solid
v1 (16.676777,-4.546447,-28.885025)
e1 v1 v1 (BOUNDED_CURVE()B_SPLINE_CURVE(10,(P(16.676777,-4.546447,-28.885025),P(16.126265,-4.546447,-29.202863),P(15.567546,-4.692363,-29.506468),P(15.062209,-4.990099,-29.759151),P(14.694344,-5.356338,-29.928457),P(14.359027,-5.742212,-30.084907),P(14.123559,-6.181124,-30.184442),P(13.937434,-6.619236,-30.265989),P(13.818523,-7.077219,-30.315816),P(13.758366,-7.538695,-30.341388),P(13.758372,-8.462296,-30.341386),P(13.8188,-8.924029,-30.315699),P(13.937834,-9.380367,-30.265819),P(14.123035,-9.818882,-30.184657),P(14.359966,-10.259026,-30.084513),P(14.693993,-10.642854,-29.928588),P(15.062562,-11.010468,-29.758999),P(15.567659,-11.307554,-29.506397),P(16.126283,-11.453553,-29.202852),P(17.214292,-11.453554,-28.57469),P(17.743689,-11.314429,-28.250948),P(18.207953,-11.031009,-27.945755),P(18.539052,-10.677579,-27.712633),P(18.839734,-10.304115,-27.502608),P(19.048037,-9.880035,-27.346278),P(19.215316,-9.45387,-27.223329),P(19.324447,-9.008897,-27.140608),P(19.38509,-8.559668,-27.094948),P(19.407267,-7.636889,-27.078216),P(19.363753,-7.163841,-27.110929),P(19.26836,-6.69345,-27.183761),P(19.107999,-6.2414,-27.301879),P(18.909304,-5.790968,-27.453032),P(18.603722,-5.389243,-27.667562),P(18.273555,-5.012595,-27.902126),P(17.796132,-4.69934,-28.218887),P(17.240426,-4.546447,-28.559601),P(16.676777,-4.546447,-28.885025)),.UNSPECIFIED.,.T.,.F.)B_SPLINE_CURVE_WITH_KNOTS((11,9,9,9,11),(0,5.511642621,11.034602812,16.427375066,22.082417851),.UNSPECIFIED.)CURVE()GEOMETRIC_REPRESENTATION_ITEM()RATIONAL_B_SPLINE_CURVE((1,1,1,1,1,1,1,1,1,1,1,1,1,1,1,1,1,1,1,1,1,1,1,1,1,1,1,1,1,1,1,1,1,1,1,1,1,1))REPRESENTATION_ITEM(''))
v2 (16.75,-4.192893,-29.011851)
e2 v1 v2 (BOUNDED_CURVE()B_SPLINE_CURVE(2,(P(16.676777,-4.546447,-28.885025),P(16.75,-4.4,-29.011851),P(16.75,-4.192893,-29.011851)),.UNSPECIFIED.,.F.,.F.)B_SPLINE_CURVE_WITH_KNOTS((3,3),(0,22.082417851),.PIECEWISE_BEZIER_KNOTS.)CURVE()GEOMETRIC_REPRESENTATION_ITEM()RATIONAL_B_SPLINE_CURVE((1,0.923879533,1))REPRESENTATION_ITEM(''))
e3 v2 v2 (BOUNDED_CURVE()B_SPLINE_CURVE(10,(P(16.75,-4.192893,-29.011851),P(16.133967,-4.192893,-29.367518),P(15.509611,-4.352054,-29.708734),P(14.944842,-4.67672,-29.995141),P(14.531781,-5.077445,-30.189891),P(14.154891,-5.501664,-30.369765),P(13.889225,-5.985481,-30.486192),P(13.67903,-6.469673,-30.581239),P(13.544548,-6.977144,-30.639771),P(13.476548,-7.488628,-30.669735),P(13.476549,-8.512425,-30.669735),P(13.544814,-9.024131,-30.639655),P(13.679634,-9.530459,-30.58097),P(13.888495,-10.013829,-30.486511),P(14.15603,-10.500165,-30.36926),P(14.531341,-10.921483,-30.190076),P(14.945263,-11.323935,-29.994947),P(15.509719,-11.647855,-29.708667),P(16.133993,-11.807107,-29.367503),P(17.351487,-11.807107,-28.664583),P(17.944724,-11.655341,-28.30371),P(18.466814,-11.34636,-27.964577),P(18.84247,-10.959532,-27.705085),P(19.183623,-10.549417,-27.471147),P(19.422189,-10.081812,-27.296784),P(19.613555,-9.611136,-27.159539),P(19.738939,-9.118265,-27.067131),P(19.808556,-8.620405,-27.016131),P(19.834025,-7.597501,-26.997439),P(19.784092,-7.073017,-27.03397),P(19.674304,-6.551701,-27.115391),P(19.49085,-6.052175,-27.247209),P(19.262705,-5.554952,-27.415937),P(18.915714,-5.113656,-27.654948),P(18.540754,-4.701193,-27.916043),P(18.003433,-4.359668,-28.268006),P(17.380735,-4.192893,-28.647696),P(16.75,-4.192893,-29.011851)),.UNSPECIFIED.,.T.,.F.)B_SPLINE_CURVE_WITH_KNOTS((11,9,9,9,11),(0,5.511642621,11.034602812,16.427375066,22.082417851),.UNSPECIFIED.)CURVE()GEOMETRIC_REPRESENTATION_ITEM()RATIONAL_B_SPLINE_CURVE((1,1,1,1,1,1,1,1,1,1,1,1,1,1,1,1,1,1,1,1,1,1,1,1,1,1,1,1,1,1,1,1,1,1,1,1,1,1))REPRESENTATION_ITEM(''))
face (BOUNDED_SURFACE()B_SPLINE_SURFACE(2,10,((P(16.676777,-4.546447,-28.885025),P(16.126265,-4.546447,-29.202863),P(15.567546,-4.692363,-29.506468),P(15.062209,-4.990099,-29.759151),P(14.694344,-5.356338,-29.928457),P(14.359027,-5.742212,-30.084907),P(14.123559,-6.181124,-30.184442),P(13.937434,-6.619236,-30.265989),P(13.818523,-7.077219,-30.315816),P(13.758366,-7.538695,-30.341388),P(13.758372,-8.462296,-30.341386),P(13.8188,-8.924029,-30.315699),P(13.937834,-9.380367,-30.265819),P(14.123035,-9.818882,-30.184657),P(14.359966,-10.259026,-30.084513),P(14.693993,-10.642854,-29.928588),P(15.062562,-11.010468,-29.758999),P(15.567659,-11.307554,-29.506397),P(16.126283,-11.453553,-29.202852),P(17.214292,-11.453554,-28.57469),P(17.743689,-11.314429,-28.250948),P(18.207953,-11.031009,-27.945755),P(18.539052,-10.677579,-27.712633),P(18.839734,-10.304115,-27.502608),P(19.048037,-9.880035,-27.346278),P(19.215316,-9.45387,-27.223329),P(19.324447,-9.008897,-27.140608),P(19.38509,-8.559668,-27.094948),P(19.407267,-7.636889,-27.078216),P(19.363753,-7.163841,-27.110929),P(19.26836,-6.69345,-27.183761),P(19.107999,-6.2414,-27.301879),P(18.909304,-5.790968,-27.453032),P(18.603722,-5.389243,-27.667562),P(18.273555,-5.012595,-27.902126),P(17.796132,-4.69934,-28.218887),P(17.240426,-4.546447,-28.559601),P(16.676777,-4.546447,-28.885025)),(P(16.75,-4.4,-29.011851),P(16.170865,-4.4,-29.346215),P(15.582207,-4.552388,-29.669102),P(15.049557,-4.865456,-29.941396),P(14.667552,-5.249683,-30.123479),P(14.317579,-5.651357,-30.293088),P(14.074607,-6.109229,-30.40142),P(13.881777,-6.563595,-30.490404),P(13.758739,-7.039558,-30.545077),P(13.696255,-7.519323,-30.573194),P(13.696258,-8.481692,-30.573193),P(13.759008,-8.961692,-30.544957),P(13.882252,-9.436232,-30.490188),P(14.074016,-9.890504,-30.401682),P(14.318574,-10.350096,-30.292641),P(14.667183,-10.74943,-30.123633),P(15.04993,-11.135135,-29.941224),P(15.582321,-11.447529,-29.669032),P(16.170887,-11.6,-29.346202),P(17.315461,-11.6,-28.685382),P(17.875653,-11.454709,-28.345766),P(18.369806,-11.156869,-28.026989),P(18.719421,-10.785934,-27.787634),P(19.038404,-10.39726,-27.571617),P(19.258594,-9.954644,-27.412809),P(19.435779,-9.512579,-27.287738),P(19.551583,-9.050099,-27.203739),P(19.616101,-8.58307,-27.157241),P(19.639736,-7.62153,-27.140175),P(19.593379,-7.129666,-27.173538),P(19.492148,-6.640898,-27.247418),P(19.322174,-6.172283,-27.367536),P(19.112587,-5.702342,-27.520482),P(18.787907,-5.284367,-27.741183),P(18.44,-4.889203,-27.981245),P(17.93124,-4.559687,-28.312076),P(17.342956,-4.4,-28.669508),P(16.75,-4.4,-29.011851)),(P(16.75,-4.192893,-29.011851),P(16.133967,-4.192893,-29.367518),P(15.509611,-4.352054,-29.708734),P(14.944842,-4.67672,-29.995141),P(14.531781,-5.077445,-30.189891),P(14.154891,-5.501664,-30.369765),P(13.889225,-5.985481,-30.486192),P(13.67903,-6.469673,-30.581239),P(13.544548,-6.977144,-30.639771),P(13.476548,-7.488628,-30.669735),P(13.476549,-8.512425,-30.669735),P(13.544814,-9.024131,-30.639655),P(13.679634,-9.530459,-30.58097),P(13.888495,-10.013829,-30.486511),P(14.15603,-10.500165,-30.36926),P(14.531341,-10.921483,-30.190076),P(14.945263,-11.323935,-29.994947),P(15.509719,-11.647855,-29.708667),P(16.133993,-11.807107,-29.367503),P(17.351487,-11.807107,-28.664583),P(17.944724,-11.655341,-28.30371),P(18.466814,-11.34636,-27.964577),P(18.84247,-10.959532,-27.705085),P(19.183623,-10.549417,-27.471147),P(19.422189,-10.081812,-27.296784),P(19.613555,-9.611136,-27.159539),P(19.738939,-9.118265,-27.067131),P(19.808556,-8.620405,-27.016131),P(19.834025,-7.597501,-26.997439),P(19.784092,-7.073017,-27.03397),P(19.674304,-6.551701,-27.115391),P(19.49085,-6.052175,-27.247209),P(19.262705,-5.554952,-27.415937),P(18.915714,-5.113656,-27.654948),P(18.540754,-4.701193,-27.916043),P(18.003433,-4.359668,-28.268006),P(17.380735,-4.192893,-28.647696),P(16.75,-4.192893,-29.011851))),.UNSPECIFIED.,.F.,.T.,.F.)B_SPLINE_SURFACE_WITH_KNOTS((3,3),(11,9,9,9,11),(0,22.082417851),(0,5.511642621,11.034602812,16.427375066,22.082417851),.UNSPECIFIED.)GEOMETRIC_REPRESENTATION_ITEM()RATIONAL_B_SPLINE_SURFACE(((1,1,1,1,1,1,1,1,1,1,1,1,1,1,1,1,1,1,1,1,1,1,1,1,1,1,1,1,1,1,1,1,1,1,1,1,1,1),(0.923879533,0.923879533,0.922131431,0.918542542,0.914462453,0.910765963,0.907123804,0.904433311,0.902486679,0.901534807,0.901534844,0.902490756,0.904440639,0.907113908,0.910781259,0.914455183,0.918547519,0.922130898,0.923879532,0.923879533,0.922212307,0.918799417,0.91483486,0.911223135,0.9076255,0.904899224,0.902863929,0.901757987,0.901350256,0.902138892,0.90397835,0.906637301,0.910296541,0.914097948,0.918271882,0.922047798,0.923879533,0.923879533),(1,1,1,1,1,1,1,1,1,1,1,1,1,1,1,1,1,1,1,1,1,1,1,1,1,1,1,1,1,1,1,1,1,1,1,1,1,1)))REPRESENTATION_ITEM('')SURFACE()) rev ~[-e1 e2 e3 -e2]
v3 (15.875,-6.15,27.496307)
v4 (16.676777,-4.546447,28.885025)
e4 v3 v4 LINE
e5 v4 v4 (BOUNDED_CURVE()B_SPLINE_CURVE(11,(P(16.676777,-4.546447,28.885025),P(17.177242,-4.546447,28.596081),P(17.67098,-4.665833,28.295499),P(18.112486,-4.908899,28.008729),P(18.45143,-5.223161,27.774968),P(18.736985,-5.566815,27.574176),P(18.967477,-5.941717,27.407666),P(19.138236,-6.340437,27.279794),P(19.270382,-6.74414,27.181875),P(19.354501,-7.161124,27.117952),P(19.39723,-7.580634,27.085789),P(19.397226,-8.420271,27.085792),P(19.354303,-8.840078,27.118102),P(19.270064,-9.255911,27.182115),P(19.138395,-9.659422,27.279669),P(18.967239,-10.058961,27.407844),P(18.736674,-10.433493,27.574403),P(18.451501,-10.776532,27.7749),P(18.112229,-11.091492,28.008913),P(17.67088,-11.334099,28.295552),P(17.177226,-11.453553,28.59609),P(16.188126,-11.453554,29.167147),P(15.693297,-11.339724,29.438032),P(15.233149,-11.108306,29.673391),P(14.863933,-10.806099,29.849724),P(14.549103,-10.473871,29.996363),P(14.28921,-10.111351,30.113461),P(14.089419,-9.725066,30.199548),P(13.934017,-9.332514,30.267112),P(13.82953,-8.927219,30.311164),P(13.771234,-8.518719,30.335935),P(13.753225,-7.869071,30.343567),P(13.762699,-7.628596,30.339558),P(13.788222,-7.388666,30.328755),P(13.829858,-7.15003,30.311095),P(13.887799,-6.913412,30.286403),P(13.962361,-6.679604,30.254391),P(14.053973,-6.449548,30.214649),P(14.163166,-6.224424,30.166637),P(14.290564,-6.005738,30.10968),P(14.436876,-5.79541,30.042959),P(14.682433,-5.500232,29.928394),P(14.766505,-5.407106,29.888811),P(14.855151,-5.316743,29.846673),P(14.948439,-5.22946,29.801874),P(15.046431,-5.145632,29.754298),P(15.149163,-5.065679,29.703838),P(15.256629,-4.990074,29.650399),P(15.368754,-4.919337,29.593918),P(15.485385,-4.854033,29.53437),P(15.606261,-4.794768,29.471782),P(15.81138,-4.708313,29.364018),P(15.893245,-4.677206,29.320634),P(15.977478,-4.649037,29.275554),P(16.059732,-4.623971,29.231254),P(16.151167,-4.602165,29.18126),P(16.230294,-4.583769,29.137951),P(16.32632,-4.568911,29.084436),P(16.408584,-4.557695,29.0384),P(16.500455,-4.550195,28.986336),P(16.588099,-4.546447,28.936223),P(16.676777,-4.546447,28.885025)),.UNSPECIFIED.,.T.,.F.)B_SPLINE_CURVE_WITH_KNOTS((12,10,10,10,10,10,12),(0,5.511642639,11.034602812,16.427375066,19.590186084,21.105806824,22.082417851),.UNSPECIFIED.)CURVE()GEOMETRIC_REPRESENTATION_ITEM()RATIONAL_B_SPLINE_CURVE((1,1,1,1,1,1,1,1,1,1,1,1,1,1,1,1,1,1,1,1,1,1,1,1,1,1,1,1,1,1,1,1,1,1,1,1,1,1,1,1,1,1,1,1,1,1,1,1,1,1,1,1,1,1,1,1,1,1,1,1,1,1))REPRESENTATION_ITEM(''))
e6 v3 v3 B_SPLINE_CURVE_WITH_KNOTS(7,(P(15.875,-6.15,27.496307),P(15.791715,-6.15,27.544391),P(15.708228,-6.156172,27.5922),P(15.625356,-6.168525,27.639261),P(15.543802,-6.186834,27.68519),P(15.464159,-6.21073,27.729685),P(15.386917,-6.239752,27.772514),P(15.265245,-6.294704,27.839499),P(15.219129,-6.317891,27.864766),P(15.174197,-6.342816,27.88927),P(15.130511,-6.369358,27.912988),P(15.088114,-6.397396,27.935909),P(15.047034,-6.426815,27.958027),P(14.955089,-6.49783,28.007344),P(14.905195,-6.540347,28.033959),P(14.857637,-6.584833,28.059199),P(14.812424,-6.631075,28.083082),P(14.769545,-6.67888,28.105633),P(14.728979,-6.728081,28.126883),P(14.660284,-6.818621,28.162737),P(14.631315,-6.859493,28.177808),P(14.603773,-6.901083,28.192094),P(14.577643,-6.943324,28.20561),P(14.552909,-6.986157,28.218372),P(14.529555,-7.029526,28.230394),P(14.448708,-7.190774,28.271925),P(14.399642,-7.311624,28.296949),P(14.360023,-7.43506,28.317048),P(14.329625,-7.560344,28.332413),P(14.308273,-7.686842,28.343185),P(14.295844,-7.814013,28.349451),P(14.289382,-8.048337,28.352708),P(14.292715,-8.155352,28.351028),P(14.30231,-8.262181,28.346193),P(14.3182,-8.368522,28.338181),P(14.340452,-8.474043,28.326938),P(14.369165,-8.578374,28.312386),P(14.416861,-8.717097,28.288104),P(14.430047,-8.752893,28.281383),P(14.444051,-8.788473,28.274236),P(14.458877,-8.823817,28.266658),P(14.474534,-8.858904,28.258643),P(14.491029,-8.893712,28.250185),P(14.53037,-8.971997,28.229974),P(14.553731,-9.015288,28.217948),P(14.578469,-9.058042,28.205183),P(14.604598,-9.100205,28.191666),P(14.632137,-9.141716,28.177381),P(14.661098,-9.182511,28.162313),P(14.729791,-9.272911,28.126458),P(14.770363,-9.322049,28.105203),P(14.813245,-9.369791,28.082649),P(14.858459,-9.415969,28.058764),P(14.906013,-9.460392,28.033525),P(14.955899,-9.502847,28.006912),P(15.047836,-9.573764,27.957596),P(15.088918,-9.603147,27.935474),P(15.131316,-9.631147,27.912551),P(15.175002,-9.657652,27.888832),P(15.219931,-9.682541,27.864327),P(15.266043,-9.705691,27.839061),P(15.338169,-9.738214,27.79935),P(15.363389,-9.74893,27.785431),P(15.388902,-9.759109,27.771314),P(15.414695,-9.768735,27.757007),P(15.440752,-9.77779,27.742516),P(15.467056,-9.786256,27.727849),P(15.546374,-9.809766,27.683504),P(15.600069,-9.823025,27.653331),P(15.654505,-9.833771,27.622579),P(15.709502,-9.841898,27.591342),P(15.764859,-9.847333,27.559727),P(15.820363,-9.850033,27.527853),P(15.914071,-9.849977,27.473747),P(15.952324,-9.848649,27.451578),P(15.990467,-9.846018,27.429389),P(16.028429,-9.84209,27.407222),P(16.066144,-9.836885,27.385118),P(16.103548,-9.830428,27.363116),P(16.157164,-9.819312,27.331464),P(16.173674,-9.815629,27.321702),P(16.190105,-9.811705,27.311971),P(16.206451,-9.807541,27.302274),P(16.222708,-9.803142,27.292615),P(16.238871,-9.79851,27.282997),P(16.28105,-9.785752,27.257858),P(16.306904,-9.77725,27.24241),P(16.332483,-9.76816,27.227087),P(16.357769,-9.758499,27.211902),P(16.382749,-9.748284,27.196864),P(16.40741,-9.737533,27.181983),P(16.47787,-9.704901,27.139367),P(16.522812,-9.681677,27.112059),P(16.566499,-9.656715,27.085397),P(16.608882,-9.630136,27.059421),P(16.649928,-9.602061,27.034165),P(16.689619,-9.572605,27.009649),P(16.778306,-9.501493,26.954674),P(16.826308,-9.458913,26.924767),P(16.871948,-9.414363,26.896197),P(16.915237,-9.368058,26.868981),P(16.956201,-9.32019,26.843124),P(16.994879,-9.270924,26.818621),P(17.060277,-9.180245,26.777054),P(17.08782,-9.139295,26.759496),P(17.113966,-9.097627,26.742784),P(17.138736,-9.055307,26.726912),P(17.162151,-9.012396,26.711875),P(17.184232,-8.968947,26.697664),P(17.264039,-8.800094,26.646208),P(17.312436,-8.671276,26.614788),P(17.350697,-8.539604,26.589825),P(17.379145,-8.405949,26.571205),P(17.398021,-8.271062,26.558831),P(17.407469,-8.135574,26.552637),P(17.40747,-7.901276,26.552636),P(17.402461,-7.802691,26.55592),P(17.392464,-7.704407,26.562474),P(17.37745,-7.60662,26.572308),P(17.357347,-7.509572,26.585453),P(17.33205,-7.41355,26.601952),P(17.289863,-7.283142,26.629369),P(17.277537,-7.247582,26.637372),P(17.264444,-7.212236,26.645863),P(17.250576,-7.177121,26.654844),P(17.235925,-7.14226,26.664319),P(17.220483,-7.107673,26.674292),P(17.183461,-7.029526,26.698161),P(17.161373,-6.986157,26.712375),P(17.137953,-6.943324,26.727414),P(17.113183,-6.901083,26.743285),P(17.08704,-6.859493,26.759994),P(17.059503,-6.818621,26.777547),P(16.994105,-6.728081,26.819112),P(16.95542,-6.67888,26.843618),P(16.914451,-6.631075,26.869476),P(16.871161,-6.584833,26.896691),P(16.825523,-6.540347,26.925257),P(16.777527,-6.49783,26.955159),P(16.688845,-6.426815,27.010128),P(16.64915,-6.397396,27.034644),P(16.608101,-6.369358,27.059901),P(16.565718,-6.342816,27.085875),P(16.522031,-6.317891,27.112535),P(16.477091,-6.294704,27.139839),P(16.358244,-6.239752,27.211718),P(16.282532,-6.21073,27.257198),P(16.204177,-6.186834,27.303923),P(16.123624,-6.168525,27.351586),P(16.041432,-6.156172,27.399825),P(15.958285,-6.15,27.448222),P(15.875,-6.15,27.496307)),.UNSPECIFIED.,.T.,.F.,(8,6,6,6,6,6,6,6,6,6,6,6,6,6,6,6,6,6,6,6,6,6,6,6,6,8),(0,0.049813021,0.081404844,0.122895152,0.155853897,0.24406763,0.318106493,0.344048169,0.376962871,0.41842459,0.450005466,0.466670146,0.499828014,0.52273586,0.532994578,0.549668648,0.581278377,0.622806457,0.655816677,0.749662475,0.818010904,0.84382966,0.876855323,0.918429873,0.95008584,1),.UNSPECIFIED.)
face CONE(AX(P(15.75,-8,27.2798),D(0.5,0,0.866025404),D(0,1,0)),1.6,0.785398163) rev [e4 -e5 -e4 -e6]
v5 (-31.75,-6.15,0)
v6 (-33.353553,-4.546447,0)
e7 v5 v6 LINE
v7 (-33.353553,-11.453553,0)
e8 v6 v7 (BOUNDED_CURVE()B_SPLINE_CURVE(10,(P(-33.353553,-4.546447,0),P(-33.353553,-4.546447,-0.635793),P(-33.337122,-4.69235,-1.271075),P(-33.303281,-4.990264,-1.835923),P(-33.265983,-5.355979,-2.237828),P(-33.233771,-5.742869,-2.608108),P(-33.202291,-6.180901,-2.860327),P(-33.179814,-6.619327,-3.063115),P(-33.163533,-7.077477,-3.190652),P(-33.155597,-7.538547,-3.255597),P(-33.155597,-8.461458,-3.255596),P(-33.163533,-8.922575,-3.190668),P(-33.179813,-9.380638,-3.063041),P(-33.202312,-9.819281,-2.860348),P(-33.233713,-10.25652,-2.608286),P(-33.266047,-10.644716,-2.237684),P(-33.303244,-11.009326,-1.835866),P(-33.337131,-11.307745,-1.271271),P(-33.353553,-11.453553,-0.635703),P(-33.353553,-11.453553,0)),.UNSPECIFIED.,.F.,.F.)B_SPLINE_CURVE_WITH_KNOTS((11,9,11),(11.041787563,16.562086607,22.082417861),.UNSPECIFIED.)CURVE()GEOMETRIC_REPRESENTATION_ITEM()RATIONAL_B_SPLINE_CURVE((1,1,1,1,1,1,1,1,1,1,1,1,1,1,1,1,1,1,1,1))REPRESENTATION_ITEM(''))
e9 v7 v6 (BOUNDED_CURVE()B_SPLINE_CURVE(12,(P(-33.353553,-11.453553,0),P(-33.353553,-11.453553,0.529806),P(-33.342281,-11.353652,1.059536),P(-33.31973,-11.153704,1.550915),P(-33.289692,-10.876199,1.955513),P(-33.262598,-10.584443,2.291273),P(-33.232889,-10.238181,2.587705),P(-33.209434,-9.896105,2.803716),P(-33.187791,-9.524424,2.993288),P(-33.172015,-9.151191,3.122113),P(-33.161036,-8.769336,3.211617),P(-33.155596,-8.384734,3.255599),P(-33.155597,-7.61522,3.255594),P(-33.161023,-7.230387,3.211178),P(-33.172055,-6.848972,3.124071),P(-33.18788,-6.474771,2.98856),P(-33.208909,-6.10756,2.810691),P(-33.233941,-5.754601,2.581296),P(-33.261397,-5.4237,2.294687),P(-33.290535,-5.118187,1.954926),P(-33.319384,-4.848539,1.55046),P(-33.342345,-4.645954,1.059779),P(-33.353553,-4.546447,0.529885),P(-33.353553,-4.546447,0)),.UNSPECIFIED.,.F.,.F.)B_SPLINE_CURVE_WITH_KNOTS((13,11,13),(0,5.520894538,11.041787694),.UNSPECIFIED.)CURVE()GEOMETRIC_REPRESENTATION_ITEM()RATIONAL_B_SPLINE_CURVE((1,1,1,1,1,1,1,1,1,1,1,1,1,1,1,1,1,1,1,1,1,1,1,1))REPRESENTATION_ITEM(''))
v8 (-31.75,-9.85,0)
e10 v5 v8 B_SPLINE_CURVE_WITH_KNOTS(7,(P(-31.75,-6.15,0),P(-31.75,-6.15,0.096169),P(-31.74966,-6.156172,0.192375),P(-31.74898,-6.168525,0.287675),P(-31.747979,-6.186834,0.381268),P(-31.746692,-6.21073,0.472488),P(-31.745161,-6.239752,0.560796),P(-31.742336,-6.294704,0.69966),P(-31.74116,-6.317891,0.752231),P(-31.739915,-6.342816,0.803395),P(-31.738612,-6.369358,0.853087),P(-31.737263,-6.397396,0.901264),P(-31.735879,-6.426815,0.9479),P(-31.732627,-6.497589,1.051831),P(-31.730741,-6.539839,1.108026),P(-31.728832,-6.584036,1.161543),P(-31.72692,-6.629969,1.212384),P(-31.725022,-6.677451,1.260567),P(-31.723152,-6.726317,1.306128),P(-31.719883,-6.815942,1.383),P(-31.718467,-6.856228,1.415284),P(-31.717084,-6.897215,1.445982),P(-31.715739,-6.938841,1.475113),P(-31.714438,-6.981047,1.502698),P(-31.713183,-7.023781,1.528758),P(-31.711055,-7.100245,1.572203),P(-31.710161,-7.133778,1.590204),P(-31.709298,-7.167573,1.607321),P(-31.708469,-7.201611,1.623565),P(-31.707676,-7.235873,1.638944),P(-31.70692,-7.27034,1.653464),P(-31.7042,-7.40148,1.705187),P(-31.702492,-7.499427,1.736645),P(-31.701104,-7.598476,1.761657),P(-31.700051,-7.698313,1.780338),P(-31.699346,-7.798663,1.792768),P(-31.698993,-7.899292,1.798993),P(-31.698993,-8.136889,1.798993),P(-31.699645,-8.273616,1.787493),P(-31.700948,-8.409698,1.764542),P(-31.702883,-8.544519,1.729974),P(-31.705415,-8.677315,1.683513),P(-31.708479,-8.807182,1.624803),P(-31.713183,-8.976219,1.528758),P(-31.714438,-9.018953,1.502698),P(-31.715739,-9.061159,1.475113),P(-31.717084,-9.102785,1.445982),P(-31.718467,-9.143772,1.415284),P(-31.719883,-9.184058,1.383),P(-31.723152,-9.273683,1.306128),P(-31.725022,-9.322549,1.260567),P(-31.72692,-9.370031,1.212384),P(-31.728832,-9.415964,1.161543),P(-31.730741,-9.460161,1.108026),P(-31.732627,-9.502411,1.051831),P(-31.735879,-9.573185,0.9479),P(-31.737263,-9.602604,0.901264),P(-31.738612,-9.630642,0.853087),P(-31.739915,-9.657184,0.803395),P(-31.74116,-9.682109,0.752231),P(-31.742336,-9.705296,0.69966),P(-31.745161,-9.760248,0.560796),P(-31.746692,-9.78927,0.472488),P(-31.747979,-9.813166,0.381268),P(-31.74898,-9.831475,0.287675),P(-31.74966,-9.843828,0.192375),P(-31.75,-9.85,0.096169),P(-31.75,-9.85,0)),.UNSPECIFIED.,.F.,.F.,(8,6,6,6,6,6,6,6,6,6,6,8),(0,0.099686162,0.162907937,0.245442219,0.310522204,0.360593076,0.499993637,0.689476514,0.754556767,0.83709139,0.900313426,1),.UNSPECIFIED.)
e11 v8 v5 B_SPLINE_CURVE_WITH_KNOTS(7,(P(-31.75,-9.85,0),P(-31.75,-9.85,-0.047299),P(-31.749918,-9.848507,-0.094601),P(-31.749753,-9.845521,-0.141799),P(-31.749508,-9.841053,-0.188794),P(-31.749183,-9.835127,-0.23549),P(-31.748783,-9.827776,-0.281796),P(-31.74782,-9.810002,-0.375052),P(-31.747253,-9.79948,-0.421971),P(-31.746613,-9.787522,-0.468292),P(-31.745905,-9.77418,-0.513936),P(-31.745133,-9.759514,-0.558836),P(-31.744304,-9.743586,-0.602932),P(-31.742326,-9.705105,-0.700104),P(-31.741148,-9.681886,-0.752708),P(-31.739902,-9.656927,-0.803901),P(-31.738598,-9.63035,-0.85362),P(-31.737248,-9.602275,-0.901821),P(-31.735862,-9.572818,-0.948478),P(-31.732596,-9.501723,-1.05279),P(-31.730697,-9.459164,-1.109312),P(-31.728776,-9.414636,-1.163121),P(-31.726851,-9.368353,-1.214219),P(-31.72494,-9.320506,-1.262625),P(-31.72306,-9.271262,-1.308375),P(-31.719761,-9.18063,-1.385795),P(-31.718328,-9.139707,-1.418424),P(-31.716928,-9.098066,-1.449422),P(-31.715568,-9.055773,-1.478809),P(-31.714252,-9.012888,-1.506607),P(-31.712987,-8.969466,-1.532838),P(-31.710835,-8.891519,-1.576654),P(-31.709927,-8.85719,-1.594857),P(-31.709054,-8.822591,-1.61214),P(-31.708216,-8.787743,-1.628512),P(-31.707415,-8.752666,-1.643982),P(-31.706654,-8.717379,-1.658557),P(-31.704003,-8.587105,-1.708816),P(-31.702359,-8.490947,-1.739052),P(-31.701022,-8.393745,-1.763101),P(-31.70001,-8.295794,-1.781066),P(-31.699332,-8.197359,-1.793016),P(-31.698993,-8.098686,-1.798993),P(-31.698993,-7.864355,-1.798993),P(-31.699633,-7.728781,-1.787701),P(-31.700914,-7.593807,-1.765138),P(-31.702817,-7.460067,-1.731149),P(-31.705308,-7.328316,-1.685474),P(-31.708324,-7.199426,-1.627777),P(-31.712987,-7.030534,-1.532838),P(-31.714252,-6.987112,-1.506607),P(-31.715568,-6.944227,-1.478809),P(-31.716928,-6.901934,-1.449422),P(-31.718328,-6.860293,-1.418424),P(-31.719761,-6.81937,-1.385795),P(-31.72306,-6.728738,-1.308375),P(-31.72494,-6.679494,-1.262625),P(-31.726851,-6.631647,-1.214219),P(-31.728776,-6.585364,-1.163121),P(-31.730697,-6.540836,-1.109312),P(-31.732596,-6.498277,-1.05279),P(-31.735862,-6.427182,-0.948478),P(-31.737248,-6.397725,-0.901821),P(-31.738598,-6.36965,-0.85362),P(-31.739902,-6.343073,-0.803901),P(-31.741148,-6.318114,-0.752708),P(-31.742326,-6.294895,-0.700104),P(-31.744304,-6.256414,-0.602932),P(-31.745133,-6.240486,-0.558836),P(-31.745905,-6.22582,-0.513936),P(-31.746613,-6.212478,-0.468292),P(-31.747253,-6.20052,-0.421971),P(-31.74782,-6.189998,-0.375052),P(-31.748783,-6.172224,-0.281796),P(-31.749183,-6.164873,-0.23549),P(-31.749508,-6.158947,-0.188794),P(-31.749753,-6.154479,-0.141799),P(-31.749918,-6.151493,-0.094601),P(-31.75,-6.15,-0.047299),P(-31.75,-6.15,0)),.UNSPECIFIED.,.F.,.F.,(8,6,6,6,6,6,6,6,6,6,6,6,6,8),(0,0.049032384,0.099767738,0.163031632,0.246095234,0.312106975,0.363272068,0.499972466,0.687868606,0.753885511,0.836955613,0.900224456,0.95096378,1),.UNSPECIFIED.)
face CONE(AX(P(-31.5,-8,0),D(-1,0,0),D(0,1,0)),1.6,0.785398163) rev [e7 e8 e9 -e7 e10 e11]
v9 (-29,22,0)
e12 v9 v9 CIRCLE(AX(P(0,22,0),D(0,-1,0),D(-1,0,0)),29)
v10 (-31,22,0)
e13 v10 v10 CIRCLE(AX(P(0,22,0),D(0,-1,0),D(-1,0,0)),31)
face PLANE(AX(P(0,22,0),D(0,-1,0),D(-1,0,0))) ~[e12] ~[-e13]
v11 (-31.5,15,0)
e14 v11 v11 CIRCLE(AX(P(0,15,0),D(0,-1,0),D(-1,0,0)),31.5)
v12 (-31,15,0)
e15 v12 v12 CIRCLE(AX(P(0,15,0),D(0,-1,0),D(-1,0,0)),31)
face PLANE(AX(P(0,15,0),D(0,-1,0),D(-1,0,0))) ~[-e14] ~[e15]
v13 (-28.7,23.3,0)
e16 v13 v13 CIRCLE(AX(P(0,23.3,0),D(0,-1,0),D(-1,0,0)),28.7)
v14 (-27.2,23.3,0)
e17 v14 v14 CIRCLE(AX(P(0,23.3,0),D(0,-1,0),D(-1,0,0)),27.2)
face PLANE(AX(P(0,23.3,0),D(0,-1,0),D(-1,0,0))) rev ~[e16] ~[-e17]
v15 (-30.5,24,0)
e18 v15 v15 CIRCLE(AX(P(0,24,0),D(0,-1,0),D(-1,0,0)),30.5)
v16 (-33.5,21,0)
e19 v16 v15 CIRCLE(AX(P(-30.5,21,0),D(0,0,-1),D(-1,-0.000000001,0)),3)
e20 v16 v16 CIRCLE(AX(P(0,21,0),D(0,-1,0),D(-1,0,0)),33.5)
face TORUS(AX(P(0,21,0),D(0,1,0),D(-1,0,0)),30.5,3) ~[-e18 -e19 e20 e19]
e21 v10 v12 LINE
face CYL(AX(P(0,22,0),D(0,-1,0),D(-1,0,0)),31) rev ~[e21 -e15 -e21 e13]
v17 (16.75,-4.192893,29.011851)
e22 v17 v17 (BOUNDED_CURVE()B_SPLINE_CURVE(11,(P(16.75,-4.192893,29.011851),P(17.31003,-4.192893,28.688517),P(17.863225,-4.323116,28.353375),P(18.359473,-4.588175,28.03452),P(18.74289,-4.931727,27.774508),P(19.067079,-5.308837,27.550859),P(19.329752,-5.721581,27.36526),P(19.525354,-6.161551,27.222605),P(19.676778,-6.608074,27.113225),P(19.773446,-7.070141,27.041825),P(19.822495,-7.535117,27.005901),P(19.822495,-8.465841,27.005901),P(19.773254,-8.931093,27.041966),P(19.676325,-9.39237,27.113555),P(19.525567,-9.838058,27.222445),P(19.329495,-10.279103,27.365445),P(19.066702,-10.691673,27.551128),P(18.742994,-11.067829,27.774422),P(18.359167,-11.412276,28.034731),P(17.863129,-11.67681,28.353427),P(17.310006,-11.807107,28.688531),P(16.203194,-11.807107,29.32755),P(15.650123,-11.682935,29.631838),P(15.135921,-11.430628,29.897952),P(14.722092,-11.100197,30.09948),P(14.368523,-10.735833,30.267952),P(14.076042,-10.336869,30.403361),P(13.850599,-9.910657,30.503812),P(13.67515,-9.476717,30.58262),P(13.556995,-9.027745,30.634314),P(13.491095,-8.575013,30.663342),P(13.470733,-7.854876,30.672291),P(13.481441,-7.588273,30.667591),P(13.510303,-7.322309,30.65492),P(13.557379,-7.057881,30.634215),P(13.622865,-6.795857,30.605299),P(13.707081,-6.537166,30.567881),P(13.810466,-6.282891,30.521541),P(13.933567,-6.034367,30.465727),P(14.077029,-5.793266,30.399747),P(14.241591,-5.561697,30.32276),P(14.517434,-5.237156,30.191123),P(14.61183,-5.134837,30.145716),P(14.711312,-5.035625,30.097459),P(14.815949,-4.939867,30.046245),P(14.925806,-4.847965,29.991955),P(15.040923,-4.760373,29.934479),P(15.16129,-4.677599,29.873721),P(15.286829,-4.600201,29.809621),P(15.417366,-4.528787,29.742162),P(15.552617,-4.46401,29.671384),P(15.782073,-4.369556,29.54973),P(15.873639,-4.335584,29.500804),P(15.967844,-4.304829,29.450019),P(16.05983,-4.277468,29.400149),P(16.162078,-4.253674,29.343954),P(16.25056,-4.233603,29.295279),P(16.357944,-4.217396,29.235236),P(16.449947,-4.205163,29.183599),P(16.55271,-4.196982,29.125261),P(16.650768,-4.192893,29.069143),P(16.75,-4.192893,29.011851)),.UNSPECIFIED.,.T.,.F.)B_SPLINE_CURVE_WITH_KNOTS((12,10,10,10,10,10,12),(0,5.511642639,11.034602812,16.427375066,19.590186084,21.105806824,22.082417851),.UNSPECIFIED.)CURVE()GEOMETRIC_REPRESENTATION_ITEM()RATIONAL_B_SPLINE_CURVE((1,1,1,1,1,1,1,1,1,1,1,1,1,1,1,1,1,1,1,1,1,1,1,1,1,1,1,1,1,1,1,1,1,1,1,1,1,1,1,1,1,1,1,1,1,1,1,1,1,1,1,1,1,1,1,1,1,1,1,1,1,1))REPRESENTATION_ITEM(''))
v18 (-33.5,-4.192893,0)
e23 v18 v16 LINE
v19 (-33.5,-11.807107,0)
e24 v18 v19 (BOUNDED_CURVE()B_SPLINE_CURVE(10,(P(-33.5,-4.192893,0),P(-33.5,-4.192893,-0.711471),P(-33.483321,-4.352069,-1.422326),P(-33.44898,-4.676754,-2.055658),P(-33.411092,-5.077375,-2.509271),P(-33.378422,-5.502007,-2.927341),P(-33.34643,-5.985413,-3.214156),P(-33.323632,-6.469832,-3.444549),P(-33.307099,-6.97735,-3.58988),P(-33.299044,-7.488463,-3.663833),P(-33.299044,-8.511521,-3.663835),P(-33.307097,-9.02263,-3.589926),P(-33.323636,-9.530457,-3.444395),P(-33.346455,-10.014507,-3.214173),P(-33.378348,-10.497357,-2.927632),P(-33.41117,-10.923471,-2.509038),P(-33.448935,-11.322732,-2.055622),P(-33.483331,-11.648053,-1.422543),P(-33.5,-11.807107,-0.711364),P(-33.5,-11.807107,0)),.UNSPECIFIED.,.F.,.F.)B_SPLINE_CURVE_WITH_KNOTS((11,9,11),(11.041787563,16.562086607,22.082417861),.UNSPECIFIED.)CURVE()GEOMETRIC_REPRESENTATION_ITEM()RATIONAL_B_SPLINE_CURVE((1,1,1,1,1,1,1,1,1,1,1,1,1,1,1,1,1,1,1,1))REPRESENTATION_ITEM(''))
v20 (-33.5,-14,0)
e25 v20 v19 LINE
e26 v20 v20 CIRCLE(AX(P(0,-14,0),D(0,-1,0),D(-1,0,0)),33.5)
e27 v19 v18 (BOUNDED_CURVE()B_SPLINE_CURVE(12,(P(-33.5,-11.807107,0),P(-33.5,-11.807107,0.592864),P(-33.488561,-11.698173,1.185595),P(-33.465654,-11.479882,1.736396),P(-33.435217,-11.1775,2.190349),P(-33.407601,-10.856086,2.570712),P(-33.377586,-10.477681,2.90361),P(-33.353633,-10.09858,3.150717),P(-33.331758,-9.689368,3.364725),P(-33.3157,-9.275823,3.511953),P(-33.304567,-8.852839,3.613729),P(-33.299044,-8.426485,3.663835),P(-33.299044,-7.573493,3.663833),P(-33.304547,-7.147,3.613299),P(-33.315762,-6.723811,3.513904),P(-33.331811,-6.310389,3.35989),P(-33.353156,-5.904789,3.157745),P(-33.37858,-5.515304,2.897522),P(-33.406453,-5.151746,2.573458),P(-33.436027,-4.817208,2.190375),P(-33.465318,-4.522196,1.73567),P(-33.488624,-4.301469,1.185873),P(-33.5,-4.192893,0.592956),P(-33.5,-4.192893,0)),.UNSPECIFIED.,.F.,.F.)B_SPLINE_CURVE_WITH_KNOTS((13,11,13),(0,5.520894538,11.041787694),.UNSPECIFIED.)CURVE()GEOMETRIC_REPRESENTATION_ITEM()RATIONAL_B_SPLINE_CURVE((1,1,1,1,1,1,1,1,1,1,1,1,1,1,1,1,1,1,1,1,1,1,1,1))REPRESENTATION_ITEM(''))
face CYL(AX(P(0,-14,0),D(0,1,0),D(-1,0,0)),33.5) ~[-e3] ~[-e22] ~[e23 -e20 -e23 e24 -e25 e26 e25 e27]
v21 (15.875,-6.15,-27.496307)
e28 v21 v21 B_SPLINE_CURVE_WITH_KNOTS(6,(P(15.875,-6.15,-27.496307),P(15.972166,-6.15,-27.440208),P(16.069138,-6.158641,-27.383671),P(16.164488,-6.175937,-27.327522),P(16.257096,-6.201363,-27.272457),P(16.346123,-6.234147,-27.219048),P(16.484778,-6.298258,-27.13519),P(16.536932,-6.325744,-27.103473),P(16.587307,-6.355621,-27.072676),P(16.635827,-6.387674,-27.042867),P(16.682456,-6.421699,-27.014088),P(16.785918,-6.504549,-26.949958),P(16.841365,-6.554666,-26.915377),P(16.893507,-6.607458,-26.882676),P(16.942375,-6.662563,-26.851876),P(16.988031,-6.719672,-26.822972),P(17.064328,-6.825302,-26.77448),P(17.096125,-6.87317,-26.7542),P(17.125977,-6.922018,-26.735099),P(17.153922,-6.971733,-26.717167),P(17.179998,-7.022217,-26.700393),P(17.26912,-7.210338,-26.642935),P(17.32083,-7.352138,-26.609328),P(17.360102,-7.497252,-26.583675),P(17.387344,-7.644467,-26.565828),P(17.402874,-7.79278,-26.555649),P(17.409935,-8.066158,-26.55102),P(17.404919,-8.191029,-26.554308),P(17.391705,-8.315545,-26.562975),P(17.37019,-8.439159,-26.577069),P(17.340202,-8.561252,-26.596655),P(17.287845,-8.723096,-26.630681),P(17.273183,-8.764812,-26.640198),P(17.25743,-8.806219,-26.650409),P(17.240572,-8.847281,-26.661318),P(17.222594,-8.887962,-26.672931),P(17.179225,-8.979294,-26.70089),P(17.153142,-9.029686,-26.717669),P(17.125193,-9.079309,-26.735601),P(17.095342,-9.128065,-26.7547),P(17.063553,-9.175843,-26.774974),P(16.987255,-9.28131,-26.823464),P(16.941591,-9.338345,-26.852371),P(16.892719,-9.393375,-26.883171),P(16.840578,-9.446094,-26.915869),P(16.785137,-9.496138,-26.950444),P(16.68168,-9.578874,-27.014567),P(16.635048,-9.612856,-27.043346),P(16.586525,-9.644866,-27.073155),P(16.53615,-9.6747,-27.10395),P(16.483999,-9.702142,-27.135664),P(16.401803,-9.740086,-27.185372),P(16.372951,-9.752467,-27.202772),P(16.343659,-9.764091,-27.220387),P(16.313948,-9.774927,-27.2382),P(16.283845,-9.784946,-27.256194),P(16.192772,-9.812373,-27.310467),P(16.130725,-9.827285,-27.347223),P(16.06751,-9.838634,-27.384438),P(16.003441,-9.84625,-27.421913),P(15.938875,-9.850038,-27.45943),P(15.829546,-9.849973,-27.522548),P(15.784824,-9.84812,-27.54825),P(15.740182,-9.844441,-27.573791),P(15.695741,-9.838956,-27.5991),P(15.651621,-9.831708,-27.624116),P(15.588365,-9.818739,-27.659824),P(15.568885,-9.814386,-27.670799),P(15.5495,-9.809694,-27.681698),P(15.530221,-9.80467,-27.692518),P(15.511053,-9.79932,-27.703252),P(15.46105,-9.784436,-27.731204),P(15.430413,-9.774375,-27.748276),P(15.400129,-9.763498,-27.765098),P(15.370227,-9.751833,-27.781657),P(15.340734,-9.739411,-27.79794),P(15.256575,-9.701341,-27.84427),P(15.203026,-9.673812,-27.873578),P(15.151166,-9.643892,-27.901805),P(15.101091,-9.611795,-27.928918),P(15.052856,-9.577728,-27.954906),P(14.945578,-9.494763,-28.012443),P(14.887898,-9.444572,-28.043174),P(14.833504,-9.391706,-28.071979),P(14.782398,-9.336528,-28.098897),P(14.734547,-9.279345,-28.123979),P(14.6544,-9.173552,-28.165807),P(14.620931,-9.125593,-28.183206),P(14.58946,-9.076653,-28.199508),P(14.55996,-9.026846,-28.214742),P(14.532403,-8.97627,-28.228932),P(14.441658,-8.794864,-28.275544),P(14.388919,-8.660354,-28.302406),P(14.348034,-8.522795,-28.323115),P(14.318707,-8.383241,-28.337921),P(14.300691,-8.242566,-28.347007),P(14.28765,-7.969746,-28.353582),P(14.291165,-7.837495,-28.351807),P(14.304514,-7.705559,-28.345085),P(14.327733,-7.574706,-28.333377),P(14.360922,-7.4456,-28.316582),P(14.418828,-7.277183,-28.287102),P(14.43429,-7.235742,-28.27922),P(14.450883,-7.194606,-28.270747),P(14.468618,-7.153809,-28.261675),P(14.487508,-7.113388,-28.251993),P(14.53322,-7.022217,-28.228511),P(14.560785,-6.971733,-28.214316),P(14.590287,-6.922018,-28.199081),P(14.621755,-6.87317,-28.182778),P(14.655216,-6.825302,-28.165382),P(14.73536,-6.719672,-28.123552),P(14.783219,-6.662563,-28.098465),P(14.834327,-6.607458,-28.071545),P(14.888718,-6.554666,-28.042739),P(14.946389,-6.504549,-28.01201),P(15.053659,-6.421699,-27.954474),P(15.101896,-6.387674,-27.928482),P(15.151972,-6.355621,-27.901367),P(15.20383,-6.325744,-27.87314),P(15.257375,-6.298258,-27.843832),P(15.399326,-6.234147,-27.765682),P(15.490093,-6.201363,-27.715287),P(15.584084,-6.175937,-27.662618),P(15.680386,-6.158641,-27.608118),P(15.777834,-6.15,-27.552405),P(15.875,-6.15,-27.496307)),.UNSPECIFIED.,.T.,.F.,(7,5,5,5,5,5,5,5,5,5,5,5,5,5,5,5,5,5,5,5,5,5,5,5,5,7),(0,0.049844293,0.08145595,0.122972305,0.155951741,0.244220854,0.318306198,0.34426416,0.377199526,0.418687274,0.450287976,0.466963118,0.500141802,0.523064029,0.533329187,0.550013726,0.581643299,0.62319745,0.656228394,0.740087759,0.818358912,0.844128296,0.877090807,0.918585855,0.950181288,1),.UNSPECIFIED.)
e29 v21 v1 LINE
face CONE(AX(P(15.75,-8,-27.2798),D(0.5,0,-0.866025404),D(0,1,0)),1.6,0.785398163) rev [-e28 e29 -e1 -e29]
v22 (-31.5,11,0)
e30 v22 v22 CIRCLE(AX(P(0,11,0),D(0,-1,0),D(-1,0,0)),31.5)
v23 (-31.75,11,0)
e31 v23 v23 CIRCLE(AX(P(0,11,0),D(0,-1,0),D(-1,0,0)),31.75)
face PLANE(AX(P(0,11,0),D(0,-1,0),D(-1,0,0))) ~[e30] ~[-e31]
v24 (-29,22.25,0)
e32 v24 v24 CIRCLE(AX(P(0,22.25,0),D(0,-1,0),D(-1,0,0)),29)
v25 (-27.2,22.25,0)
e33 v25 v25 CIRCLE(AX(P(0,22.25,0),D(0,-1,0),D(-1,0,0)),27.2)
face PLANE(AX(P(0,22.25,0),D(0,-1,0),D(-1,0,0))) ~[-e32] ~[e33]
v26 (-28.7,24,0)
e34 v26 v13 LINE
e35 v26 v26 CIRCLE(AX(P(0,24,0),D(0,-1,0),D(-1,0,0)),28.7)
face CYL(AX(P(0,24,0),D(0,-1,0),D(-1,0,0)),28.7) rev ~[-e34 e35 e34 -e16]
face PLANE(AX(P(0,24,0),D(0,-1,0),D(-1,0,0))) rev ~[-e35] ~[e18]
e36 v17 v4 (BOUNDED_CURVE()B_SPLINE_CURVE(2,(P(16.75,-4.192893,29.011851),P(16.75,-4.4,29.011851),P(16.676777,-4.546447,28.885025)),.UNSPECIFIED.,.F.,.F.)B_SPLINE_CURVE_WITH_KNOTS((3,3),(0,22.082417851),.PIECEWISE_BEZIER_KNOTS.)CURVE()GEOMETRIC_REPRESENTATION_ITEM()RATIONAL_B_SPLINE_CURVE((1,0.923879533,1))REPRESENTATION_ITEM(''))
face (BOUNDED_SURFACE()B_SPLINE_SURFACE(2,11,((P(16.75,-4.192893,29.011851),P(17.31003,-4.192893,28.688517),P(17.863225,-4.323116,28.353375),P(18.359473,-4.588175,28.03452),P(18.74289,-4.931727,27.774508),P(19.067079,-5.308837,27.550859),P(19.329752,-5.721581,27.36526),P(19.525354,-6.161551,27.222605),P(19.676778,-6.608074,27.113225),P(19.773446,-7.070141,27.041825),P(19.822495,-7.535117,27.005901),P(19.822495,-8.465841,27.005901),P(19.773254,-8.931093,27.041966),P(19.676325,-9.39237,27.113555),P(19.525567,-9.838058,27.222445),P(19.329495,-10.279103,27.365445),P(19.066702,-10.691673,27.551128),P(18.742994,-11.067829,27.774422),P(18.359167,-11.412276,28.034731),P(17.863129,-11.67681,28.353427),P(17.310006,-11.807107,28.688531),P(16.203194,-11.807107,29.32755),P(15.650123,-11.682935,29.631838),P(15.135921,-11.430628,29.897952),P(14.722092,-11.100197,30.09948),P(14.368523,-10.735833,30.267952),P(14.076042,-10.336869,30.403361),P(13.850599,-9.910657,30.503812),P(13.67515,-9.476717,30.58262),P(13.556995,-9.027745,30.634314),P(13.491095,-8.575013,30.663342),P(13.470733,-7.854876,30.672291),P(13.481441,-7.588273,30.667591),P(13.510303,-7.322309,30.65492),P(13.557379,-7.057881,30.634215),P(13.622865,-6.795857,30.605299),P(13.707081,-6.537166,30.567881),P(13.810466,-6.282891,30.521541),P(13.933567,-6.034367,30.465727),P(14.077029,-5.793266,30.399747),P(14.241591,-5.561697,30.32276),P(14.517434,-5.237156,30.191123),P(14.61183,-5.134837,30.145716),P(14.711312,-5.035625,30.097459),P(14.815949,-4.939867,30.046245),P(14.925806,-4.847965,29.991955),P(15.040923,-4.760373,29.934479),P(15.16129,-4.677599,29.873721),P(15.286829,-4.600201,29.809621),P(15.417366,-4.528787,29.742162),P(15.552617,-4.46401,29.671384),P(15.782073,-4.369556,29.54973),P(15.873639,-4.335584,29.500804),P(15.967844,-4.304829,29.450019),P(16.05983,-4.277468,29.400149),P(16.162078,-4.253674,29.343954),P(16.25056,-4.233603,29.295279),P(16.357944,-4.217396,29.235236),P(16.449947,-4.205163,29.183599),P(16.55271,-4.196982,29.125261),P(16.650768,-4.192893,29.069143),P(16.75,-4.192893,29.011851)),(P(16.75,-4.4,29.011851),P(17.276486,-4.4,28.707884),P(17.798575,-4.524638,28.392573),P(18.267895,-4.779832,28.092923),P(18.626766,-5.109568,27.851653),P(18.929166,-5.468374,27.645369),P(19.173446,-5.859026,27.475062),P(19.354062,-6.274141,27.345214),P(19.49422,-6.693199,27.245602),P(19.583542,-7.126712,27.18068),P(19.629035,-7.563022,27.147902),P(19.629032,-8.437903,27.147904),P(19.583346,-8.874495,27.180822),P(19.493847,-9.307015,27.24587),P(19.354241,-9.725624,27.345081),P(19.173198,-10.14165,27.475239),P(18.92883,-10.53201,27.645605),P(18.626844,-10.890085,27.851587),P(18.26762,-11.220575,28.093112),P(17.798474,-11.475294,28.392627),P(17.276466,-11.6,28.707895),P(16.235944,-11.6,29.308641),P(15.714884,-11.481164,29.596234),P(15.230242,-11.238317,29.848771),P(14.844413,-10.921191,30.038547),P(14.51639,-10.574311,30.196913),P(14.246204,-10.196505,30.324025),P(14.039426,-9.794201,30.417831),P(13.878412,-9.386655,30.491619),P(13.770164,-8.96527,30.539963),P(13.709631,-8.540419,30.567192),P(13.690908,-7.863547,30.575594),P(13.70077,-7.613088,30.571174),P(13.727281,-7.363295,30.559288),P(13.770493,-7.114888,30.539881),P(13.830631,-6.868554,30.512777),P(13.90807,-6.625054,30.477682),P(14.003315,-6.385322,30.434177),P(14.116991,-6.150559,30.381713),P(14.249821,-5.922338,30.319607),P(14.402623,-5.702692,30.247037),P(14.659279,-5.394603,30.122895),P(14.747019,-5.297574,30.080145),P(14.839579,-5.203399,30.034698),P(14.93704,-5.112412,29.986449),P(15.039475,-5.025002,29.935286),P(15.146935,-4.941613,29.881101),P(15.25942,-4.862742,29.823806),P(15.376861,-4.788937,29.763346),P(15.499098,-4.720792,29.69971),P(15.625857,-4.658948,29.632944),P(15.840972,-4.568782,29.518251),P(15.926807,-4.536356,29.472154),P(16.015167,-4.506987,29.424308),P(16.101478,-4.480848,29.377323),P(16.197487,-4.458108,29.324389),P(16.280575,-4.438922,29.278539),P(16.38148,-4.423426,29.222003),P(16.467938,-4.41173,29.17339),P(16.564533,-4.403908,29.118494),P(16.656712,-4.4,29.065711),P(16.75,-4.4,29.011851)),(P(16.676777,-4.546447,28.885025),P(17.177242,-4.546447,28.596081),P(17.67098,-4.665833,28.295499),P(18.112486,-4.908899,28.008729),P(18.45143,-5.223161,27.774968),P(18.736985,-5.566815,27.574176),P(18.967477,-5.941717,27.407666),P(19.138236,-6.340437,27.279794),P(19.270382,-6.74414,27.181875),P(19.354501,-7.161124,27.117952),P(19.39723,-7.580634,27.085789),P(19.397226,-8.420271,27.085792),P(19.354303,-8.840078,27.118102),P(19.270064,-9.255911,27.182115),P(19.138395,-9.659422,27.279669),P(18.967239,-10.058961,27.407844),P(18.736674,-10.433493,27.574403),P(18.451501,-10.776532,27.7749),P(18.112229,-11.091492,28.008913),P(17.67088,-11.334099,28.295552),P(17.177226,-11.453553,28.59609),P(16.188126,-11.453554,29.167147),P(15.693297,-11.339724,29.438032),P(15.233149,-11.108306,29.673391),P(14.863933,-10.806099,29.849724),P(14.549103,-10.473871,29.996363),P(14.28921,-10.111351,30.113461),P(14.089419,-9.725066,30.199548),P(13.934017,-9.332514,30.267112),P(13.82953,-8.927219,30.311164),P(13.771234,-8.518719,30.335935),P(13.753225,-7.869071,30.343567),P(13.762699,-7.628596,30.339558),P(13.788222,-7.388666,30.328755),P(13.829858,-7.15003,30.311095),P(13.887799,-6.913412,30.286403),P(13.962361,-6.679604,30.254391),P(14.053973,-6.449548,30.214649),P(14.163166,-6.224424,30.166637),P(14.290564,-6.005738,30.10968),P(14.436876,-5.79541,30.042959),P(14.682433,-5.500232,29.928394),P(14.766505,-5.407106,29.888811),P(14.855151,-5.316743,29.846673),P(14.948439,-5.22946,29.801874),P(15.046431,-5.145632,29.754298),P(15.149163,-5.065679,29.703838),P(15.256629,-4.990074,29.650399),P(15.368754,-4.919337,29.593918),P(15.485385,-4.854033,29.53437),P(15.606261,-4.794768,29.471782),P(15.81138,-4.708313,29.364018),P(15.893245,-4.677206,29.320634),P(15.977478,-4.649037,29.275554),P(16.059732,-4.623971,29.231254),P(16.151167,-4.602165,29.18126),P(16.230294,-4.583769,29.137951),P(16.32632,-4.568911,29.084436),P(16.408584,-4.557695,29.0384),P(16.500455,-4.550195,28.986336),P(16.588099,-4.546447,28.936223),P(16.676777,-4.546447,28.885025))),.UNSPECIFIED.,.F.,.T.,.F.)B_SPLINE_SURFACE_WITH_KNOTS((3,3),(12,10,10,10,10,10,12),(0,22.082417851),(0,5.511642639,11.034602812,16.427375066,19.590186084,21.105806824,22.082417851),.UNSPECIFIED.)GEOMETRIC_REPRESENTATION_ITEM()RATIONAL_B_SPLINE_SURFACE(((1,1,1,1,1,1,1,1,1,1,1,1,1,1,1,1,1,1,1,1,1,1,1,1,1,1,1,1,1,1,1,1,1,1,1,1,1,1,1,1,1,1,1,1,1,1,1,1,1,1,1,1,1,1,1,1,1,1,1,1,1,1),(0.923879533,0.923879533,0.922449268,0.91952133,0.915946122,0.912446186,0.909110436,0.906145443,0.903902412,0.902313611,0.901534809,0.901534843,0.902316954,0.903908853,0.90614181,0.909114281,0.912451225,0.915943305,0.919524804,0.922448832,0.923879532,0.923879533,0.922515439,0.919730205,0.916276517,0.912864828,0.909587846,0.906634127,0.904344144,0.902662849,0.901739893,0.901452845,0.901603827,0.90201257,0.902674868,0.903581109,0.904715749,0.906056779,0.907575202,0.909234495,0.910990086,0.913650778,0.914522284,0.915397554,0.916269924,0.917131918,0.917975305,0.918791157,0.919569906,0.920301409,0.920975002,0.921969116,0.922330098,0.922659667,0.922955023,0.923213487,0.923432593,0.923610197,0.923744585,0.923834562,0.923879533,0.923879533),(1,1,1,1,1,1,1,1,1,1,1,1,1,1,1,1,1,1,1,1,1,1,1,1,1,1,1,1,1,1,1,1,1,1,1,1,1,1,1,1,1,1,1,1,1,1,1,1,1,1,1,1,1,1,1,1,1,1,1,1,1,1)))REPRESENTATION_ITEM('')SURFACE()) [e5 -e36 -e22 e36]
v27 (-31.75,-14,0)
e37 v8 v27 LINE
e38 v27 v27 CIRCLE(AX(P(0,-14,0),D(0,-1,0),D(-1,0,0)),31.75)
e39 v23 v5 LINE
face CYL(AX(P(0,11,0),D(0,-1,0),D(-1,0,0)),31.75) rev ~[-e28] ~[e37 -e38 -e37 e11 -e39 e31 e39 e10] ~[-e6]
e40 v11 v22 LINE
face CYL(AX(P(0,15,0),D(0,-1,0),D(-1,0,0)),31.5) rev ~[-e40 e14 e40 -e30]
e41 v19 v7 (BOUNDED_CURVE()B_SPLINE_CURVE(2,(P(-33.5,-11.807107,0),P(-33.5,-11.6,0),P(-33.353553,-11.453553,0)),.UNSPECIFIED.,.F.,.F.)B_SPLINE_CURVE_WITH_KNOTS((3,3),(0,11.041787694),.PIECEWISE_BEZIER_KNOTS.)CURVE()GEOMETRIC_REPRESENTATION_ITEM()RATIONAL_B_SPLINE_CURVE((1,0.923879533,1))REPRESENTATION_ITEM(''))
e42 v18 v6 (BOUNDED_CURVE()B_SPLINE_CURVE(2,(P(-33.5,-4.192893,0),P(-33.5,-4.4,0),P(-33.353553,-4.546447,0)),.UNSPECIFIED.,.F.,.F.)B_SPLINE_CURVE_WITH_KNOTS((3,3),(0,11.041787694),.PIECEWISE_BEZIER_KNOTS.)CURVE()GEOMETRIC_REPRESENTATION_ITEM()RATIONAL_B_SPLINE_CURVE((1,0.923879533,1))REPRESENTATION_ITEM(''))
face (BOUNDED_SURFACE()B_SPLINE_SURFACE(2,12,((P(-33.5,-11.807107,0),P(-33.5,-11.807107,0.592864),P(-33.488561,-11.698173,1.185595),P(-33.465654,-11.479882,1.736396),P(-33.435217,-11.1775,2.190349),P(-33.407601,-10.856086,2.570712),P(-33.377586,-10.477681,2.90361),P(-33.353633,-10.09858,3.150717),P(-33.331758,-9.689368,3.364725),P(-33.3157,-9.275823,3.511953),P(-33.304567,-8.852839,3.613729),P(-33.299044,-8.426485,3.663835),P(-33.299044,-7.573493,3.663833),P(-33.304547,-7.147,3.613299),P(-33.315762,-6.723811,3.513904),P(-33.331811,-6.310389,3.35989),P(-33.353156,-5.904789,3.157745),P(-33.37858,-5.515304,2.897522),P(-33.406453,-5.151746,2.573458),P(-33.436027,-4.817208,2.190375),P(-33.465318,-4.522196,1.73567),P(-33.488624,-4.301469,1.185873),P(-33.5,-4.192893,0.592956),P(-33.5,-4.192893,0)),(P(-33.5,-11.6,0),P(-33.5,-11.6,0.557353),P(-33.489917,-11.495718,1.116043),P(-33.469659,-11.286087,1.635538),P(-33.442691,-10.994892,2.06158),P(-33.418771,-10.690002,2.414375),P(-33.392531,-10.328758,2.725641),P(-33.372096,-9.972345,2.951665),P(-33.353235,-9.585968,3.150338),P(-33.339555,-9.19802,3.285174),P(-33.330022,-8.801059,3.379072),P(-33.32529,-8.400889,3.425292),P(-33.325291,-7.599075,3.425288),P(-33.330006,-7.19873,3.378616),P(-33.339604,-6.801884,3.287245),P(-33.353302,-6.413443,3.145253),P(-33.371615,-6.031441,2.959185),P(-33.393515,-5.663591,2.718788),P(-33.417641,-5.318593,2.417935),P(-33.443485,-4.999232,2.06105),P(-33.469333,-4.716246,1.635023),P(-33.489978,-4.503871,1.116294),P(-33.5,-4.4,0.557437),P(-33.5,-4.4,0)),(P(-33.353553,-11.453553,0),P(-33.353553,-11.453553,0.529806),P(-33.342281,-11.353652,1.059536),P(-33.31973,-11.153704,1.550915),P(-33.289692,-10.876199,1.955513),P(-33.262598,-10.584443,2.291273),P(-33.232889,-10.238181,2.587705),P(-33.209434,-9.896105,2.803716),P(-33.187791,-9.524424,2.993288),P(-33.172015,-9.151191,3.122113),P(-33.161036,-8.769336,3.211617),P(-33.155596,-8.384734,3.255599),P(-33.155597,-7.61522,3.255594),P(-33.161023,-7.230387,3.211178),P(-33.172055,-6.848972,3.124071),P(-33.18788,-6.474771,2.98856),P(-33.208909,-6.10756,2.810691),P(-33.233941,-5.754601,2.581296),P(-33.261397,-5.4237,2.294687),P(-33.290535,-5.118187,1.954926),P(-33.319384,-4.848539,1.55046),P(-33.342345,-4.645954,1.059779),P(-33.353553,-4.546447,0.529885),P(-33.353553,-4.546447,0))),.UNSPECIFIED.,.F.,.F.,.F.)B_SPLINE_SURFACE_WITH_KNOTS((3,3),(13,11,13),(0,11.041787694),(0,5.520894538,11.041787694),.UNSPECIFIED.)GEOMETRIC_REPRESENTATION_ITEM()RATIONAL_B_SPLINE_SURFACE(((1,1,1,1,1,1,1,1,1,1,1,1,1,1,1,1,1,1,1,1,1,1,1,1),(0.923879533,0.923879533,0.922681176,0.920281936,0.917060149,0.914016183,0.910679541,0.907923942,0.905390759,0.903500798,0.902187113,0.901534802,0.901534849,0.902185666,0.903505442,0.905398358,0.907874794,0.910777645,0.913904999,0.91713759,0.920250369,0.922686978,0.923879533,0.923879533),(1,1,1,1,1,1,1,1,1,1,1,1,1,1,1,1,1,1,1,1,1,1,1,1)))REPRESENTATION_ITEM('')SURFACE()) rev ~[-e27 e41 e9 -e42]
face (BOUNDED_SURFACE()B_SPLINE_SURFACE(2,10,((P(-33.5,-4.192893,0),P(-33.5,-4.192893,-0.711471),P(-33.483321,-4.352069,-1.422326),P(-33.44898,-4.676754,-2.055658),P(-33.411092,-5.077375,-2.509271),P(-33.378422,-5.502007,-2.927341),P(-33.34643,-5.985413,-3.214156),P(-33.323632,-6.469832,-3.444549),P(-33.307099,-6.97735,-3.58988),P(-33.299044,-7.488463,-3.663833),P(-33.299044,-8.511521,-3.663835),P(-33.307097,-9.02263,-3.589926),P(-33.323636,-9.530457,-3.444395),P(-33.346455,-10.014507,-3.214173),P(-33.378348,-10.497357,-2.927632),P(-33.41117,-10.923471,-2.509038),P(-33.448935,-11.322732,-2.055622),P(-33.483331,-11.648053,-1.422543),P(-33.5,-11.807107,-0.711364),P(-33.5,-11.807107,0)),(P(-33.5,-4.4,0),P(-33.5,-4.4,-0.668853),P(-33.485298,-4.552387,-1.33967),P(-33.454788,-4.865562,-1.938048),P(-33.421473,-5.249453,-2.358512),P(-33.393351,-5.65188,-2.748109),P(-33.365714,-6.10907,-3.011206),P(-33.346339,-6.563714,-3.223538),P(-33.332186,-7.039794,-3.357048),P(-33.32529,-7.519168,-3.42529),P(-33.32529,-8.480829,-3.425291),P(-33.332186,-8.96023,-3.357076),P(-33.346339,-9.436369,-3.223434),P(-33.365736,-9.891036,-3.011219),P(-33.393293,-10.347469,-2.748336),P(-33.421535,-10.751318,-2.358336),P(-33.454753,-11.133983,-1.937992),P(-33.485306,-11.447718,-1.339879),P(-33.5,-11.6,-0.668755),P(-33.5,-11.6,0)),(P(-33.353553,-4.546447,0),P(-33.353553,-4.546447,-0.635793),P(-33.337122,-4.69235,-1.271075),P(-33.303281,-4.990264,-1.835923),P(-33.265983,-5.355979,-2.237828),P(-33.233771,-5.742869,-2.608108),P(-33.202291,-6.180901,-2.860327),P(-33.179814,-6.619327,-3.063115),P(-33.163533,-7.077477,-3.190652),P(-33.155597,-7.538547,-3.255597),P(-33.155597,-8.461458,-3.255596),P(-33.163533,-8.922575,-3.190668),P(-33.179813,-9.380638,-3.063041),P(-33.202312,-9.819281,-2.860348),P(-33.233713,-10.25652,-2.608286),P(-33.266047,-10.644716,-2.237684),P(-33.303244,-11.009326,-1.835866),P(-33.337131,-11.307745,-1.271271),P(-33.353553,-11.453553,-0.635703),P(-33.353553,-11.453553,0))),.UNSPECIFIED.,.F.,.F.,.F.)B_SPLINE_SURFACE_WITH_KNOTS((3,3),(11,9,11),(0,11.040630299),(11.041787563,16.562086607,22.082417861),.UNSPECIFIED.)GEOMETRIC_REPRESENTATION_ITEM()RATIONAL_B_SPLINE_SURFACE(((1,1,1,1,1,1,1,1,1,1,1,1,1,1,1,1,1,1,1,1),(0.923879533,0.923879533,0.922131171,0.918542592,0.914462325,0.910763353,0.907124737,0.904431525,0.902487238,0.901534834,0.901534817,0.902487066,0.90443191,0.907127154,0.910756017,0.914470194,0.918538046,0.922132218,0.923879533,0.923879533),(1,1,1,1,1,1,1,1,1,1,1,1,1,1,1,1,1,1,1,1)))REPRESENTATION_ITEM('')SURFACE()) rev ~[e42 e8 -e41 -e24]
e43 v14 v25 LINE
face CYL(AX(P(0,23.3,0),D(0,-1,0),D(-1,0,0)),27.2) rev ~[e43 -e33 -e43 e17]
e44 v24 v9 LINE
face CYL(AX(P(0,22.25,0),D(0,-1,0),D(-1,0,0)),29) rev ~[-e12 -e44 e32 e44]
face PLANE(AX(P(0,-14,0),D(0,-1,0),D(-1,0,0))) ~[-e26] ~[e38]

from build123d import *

# Parameters (mm, degrees)
CIRPATTERN2_COUNT = 3
FILLET1_R         = 0.5


with BuildPart() as part:
    # Sketch1 → Revolve1 (revolve)
    with BuildSketch(Plane.XY):
        with BuildLine():
            Line((-27.2, 23.3), (-27.2, 22.25))
            Line((-27.2, 22.25), (-29, 22.25))
            Line((-29, 22.25), (-29, 22))
            Line((-29, 22), (-31, 22))
            Line((-31, 22), (-31, 15))
            Line((-31, 15), (-31.5, 15))
            Line((-31.5, 15), (-31.5, 11))
            Line((-31.5, 11), (-31.75, 11))
            Line((-31.75, 11), (-31.75, -14))
            Line((-31.75, -14), (-33.5, -14))
            Line((-33.5, -14), (-33.5, 21))
            ThreePointArc((-33.5, 21), (-32.621320344, 23.121320344), (-30.5, 24))
            Line((-30.5, 24), (-28.7, 24))
            Line((-28.7, 24), (-28.7, 23.3))
            Line((-28.7, 23.3), (-27.2, 23.3))
        make_face()
    revolve(axis=Axis((0, -0.222595104, 0), (0, -1, 0)))

    # Sketch4 → Cut-Revolve1 (revolve, cut)
    with BuildSketch(Plane.XY):
        Polygon((-33.5, -8), (-25.29746816, -8), (-25.29746816, -6.4), (-31.5, -6.4), (-33.5, -4.4), align=None)
    cut_revolve1 = revolve(axis=Axis((-29.768934642, -8, 0), (1, 0, 0)), mode=Mode.SUBTRACT)

    # CirPattern2: Cut-Revolve1 ×3 about axis
    cirpattern2_axis = Axis((0, 0, 0), (0, 1, 0))
    for i in range(1, CIRPATTERN2_COUNT):
        add(cut_revolve1.rotate(cirpattern2_axis, i * 360 / CIRPATTERN2_COUNT), mode=Mode.SUBTRACT)

    # Fillet1
    fillet1_edges = [part.edges().sort_by_distance(p)[0] for p in [
        (-33.324506796, -8, 3.424506796),
        (16.750000115, -11.6, 29.01185096),
        (16.749999851, -11.6, -29.011851113),
    ]]
    fillet(fillet1_edges, radius=FILLET1_R)


solid = part.part
